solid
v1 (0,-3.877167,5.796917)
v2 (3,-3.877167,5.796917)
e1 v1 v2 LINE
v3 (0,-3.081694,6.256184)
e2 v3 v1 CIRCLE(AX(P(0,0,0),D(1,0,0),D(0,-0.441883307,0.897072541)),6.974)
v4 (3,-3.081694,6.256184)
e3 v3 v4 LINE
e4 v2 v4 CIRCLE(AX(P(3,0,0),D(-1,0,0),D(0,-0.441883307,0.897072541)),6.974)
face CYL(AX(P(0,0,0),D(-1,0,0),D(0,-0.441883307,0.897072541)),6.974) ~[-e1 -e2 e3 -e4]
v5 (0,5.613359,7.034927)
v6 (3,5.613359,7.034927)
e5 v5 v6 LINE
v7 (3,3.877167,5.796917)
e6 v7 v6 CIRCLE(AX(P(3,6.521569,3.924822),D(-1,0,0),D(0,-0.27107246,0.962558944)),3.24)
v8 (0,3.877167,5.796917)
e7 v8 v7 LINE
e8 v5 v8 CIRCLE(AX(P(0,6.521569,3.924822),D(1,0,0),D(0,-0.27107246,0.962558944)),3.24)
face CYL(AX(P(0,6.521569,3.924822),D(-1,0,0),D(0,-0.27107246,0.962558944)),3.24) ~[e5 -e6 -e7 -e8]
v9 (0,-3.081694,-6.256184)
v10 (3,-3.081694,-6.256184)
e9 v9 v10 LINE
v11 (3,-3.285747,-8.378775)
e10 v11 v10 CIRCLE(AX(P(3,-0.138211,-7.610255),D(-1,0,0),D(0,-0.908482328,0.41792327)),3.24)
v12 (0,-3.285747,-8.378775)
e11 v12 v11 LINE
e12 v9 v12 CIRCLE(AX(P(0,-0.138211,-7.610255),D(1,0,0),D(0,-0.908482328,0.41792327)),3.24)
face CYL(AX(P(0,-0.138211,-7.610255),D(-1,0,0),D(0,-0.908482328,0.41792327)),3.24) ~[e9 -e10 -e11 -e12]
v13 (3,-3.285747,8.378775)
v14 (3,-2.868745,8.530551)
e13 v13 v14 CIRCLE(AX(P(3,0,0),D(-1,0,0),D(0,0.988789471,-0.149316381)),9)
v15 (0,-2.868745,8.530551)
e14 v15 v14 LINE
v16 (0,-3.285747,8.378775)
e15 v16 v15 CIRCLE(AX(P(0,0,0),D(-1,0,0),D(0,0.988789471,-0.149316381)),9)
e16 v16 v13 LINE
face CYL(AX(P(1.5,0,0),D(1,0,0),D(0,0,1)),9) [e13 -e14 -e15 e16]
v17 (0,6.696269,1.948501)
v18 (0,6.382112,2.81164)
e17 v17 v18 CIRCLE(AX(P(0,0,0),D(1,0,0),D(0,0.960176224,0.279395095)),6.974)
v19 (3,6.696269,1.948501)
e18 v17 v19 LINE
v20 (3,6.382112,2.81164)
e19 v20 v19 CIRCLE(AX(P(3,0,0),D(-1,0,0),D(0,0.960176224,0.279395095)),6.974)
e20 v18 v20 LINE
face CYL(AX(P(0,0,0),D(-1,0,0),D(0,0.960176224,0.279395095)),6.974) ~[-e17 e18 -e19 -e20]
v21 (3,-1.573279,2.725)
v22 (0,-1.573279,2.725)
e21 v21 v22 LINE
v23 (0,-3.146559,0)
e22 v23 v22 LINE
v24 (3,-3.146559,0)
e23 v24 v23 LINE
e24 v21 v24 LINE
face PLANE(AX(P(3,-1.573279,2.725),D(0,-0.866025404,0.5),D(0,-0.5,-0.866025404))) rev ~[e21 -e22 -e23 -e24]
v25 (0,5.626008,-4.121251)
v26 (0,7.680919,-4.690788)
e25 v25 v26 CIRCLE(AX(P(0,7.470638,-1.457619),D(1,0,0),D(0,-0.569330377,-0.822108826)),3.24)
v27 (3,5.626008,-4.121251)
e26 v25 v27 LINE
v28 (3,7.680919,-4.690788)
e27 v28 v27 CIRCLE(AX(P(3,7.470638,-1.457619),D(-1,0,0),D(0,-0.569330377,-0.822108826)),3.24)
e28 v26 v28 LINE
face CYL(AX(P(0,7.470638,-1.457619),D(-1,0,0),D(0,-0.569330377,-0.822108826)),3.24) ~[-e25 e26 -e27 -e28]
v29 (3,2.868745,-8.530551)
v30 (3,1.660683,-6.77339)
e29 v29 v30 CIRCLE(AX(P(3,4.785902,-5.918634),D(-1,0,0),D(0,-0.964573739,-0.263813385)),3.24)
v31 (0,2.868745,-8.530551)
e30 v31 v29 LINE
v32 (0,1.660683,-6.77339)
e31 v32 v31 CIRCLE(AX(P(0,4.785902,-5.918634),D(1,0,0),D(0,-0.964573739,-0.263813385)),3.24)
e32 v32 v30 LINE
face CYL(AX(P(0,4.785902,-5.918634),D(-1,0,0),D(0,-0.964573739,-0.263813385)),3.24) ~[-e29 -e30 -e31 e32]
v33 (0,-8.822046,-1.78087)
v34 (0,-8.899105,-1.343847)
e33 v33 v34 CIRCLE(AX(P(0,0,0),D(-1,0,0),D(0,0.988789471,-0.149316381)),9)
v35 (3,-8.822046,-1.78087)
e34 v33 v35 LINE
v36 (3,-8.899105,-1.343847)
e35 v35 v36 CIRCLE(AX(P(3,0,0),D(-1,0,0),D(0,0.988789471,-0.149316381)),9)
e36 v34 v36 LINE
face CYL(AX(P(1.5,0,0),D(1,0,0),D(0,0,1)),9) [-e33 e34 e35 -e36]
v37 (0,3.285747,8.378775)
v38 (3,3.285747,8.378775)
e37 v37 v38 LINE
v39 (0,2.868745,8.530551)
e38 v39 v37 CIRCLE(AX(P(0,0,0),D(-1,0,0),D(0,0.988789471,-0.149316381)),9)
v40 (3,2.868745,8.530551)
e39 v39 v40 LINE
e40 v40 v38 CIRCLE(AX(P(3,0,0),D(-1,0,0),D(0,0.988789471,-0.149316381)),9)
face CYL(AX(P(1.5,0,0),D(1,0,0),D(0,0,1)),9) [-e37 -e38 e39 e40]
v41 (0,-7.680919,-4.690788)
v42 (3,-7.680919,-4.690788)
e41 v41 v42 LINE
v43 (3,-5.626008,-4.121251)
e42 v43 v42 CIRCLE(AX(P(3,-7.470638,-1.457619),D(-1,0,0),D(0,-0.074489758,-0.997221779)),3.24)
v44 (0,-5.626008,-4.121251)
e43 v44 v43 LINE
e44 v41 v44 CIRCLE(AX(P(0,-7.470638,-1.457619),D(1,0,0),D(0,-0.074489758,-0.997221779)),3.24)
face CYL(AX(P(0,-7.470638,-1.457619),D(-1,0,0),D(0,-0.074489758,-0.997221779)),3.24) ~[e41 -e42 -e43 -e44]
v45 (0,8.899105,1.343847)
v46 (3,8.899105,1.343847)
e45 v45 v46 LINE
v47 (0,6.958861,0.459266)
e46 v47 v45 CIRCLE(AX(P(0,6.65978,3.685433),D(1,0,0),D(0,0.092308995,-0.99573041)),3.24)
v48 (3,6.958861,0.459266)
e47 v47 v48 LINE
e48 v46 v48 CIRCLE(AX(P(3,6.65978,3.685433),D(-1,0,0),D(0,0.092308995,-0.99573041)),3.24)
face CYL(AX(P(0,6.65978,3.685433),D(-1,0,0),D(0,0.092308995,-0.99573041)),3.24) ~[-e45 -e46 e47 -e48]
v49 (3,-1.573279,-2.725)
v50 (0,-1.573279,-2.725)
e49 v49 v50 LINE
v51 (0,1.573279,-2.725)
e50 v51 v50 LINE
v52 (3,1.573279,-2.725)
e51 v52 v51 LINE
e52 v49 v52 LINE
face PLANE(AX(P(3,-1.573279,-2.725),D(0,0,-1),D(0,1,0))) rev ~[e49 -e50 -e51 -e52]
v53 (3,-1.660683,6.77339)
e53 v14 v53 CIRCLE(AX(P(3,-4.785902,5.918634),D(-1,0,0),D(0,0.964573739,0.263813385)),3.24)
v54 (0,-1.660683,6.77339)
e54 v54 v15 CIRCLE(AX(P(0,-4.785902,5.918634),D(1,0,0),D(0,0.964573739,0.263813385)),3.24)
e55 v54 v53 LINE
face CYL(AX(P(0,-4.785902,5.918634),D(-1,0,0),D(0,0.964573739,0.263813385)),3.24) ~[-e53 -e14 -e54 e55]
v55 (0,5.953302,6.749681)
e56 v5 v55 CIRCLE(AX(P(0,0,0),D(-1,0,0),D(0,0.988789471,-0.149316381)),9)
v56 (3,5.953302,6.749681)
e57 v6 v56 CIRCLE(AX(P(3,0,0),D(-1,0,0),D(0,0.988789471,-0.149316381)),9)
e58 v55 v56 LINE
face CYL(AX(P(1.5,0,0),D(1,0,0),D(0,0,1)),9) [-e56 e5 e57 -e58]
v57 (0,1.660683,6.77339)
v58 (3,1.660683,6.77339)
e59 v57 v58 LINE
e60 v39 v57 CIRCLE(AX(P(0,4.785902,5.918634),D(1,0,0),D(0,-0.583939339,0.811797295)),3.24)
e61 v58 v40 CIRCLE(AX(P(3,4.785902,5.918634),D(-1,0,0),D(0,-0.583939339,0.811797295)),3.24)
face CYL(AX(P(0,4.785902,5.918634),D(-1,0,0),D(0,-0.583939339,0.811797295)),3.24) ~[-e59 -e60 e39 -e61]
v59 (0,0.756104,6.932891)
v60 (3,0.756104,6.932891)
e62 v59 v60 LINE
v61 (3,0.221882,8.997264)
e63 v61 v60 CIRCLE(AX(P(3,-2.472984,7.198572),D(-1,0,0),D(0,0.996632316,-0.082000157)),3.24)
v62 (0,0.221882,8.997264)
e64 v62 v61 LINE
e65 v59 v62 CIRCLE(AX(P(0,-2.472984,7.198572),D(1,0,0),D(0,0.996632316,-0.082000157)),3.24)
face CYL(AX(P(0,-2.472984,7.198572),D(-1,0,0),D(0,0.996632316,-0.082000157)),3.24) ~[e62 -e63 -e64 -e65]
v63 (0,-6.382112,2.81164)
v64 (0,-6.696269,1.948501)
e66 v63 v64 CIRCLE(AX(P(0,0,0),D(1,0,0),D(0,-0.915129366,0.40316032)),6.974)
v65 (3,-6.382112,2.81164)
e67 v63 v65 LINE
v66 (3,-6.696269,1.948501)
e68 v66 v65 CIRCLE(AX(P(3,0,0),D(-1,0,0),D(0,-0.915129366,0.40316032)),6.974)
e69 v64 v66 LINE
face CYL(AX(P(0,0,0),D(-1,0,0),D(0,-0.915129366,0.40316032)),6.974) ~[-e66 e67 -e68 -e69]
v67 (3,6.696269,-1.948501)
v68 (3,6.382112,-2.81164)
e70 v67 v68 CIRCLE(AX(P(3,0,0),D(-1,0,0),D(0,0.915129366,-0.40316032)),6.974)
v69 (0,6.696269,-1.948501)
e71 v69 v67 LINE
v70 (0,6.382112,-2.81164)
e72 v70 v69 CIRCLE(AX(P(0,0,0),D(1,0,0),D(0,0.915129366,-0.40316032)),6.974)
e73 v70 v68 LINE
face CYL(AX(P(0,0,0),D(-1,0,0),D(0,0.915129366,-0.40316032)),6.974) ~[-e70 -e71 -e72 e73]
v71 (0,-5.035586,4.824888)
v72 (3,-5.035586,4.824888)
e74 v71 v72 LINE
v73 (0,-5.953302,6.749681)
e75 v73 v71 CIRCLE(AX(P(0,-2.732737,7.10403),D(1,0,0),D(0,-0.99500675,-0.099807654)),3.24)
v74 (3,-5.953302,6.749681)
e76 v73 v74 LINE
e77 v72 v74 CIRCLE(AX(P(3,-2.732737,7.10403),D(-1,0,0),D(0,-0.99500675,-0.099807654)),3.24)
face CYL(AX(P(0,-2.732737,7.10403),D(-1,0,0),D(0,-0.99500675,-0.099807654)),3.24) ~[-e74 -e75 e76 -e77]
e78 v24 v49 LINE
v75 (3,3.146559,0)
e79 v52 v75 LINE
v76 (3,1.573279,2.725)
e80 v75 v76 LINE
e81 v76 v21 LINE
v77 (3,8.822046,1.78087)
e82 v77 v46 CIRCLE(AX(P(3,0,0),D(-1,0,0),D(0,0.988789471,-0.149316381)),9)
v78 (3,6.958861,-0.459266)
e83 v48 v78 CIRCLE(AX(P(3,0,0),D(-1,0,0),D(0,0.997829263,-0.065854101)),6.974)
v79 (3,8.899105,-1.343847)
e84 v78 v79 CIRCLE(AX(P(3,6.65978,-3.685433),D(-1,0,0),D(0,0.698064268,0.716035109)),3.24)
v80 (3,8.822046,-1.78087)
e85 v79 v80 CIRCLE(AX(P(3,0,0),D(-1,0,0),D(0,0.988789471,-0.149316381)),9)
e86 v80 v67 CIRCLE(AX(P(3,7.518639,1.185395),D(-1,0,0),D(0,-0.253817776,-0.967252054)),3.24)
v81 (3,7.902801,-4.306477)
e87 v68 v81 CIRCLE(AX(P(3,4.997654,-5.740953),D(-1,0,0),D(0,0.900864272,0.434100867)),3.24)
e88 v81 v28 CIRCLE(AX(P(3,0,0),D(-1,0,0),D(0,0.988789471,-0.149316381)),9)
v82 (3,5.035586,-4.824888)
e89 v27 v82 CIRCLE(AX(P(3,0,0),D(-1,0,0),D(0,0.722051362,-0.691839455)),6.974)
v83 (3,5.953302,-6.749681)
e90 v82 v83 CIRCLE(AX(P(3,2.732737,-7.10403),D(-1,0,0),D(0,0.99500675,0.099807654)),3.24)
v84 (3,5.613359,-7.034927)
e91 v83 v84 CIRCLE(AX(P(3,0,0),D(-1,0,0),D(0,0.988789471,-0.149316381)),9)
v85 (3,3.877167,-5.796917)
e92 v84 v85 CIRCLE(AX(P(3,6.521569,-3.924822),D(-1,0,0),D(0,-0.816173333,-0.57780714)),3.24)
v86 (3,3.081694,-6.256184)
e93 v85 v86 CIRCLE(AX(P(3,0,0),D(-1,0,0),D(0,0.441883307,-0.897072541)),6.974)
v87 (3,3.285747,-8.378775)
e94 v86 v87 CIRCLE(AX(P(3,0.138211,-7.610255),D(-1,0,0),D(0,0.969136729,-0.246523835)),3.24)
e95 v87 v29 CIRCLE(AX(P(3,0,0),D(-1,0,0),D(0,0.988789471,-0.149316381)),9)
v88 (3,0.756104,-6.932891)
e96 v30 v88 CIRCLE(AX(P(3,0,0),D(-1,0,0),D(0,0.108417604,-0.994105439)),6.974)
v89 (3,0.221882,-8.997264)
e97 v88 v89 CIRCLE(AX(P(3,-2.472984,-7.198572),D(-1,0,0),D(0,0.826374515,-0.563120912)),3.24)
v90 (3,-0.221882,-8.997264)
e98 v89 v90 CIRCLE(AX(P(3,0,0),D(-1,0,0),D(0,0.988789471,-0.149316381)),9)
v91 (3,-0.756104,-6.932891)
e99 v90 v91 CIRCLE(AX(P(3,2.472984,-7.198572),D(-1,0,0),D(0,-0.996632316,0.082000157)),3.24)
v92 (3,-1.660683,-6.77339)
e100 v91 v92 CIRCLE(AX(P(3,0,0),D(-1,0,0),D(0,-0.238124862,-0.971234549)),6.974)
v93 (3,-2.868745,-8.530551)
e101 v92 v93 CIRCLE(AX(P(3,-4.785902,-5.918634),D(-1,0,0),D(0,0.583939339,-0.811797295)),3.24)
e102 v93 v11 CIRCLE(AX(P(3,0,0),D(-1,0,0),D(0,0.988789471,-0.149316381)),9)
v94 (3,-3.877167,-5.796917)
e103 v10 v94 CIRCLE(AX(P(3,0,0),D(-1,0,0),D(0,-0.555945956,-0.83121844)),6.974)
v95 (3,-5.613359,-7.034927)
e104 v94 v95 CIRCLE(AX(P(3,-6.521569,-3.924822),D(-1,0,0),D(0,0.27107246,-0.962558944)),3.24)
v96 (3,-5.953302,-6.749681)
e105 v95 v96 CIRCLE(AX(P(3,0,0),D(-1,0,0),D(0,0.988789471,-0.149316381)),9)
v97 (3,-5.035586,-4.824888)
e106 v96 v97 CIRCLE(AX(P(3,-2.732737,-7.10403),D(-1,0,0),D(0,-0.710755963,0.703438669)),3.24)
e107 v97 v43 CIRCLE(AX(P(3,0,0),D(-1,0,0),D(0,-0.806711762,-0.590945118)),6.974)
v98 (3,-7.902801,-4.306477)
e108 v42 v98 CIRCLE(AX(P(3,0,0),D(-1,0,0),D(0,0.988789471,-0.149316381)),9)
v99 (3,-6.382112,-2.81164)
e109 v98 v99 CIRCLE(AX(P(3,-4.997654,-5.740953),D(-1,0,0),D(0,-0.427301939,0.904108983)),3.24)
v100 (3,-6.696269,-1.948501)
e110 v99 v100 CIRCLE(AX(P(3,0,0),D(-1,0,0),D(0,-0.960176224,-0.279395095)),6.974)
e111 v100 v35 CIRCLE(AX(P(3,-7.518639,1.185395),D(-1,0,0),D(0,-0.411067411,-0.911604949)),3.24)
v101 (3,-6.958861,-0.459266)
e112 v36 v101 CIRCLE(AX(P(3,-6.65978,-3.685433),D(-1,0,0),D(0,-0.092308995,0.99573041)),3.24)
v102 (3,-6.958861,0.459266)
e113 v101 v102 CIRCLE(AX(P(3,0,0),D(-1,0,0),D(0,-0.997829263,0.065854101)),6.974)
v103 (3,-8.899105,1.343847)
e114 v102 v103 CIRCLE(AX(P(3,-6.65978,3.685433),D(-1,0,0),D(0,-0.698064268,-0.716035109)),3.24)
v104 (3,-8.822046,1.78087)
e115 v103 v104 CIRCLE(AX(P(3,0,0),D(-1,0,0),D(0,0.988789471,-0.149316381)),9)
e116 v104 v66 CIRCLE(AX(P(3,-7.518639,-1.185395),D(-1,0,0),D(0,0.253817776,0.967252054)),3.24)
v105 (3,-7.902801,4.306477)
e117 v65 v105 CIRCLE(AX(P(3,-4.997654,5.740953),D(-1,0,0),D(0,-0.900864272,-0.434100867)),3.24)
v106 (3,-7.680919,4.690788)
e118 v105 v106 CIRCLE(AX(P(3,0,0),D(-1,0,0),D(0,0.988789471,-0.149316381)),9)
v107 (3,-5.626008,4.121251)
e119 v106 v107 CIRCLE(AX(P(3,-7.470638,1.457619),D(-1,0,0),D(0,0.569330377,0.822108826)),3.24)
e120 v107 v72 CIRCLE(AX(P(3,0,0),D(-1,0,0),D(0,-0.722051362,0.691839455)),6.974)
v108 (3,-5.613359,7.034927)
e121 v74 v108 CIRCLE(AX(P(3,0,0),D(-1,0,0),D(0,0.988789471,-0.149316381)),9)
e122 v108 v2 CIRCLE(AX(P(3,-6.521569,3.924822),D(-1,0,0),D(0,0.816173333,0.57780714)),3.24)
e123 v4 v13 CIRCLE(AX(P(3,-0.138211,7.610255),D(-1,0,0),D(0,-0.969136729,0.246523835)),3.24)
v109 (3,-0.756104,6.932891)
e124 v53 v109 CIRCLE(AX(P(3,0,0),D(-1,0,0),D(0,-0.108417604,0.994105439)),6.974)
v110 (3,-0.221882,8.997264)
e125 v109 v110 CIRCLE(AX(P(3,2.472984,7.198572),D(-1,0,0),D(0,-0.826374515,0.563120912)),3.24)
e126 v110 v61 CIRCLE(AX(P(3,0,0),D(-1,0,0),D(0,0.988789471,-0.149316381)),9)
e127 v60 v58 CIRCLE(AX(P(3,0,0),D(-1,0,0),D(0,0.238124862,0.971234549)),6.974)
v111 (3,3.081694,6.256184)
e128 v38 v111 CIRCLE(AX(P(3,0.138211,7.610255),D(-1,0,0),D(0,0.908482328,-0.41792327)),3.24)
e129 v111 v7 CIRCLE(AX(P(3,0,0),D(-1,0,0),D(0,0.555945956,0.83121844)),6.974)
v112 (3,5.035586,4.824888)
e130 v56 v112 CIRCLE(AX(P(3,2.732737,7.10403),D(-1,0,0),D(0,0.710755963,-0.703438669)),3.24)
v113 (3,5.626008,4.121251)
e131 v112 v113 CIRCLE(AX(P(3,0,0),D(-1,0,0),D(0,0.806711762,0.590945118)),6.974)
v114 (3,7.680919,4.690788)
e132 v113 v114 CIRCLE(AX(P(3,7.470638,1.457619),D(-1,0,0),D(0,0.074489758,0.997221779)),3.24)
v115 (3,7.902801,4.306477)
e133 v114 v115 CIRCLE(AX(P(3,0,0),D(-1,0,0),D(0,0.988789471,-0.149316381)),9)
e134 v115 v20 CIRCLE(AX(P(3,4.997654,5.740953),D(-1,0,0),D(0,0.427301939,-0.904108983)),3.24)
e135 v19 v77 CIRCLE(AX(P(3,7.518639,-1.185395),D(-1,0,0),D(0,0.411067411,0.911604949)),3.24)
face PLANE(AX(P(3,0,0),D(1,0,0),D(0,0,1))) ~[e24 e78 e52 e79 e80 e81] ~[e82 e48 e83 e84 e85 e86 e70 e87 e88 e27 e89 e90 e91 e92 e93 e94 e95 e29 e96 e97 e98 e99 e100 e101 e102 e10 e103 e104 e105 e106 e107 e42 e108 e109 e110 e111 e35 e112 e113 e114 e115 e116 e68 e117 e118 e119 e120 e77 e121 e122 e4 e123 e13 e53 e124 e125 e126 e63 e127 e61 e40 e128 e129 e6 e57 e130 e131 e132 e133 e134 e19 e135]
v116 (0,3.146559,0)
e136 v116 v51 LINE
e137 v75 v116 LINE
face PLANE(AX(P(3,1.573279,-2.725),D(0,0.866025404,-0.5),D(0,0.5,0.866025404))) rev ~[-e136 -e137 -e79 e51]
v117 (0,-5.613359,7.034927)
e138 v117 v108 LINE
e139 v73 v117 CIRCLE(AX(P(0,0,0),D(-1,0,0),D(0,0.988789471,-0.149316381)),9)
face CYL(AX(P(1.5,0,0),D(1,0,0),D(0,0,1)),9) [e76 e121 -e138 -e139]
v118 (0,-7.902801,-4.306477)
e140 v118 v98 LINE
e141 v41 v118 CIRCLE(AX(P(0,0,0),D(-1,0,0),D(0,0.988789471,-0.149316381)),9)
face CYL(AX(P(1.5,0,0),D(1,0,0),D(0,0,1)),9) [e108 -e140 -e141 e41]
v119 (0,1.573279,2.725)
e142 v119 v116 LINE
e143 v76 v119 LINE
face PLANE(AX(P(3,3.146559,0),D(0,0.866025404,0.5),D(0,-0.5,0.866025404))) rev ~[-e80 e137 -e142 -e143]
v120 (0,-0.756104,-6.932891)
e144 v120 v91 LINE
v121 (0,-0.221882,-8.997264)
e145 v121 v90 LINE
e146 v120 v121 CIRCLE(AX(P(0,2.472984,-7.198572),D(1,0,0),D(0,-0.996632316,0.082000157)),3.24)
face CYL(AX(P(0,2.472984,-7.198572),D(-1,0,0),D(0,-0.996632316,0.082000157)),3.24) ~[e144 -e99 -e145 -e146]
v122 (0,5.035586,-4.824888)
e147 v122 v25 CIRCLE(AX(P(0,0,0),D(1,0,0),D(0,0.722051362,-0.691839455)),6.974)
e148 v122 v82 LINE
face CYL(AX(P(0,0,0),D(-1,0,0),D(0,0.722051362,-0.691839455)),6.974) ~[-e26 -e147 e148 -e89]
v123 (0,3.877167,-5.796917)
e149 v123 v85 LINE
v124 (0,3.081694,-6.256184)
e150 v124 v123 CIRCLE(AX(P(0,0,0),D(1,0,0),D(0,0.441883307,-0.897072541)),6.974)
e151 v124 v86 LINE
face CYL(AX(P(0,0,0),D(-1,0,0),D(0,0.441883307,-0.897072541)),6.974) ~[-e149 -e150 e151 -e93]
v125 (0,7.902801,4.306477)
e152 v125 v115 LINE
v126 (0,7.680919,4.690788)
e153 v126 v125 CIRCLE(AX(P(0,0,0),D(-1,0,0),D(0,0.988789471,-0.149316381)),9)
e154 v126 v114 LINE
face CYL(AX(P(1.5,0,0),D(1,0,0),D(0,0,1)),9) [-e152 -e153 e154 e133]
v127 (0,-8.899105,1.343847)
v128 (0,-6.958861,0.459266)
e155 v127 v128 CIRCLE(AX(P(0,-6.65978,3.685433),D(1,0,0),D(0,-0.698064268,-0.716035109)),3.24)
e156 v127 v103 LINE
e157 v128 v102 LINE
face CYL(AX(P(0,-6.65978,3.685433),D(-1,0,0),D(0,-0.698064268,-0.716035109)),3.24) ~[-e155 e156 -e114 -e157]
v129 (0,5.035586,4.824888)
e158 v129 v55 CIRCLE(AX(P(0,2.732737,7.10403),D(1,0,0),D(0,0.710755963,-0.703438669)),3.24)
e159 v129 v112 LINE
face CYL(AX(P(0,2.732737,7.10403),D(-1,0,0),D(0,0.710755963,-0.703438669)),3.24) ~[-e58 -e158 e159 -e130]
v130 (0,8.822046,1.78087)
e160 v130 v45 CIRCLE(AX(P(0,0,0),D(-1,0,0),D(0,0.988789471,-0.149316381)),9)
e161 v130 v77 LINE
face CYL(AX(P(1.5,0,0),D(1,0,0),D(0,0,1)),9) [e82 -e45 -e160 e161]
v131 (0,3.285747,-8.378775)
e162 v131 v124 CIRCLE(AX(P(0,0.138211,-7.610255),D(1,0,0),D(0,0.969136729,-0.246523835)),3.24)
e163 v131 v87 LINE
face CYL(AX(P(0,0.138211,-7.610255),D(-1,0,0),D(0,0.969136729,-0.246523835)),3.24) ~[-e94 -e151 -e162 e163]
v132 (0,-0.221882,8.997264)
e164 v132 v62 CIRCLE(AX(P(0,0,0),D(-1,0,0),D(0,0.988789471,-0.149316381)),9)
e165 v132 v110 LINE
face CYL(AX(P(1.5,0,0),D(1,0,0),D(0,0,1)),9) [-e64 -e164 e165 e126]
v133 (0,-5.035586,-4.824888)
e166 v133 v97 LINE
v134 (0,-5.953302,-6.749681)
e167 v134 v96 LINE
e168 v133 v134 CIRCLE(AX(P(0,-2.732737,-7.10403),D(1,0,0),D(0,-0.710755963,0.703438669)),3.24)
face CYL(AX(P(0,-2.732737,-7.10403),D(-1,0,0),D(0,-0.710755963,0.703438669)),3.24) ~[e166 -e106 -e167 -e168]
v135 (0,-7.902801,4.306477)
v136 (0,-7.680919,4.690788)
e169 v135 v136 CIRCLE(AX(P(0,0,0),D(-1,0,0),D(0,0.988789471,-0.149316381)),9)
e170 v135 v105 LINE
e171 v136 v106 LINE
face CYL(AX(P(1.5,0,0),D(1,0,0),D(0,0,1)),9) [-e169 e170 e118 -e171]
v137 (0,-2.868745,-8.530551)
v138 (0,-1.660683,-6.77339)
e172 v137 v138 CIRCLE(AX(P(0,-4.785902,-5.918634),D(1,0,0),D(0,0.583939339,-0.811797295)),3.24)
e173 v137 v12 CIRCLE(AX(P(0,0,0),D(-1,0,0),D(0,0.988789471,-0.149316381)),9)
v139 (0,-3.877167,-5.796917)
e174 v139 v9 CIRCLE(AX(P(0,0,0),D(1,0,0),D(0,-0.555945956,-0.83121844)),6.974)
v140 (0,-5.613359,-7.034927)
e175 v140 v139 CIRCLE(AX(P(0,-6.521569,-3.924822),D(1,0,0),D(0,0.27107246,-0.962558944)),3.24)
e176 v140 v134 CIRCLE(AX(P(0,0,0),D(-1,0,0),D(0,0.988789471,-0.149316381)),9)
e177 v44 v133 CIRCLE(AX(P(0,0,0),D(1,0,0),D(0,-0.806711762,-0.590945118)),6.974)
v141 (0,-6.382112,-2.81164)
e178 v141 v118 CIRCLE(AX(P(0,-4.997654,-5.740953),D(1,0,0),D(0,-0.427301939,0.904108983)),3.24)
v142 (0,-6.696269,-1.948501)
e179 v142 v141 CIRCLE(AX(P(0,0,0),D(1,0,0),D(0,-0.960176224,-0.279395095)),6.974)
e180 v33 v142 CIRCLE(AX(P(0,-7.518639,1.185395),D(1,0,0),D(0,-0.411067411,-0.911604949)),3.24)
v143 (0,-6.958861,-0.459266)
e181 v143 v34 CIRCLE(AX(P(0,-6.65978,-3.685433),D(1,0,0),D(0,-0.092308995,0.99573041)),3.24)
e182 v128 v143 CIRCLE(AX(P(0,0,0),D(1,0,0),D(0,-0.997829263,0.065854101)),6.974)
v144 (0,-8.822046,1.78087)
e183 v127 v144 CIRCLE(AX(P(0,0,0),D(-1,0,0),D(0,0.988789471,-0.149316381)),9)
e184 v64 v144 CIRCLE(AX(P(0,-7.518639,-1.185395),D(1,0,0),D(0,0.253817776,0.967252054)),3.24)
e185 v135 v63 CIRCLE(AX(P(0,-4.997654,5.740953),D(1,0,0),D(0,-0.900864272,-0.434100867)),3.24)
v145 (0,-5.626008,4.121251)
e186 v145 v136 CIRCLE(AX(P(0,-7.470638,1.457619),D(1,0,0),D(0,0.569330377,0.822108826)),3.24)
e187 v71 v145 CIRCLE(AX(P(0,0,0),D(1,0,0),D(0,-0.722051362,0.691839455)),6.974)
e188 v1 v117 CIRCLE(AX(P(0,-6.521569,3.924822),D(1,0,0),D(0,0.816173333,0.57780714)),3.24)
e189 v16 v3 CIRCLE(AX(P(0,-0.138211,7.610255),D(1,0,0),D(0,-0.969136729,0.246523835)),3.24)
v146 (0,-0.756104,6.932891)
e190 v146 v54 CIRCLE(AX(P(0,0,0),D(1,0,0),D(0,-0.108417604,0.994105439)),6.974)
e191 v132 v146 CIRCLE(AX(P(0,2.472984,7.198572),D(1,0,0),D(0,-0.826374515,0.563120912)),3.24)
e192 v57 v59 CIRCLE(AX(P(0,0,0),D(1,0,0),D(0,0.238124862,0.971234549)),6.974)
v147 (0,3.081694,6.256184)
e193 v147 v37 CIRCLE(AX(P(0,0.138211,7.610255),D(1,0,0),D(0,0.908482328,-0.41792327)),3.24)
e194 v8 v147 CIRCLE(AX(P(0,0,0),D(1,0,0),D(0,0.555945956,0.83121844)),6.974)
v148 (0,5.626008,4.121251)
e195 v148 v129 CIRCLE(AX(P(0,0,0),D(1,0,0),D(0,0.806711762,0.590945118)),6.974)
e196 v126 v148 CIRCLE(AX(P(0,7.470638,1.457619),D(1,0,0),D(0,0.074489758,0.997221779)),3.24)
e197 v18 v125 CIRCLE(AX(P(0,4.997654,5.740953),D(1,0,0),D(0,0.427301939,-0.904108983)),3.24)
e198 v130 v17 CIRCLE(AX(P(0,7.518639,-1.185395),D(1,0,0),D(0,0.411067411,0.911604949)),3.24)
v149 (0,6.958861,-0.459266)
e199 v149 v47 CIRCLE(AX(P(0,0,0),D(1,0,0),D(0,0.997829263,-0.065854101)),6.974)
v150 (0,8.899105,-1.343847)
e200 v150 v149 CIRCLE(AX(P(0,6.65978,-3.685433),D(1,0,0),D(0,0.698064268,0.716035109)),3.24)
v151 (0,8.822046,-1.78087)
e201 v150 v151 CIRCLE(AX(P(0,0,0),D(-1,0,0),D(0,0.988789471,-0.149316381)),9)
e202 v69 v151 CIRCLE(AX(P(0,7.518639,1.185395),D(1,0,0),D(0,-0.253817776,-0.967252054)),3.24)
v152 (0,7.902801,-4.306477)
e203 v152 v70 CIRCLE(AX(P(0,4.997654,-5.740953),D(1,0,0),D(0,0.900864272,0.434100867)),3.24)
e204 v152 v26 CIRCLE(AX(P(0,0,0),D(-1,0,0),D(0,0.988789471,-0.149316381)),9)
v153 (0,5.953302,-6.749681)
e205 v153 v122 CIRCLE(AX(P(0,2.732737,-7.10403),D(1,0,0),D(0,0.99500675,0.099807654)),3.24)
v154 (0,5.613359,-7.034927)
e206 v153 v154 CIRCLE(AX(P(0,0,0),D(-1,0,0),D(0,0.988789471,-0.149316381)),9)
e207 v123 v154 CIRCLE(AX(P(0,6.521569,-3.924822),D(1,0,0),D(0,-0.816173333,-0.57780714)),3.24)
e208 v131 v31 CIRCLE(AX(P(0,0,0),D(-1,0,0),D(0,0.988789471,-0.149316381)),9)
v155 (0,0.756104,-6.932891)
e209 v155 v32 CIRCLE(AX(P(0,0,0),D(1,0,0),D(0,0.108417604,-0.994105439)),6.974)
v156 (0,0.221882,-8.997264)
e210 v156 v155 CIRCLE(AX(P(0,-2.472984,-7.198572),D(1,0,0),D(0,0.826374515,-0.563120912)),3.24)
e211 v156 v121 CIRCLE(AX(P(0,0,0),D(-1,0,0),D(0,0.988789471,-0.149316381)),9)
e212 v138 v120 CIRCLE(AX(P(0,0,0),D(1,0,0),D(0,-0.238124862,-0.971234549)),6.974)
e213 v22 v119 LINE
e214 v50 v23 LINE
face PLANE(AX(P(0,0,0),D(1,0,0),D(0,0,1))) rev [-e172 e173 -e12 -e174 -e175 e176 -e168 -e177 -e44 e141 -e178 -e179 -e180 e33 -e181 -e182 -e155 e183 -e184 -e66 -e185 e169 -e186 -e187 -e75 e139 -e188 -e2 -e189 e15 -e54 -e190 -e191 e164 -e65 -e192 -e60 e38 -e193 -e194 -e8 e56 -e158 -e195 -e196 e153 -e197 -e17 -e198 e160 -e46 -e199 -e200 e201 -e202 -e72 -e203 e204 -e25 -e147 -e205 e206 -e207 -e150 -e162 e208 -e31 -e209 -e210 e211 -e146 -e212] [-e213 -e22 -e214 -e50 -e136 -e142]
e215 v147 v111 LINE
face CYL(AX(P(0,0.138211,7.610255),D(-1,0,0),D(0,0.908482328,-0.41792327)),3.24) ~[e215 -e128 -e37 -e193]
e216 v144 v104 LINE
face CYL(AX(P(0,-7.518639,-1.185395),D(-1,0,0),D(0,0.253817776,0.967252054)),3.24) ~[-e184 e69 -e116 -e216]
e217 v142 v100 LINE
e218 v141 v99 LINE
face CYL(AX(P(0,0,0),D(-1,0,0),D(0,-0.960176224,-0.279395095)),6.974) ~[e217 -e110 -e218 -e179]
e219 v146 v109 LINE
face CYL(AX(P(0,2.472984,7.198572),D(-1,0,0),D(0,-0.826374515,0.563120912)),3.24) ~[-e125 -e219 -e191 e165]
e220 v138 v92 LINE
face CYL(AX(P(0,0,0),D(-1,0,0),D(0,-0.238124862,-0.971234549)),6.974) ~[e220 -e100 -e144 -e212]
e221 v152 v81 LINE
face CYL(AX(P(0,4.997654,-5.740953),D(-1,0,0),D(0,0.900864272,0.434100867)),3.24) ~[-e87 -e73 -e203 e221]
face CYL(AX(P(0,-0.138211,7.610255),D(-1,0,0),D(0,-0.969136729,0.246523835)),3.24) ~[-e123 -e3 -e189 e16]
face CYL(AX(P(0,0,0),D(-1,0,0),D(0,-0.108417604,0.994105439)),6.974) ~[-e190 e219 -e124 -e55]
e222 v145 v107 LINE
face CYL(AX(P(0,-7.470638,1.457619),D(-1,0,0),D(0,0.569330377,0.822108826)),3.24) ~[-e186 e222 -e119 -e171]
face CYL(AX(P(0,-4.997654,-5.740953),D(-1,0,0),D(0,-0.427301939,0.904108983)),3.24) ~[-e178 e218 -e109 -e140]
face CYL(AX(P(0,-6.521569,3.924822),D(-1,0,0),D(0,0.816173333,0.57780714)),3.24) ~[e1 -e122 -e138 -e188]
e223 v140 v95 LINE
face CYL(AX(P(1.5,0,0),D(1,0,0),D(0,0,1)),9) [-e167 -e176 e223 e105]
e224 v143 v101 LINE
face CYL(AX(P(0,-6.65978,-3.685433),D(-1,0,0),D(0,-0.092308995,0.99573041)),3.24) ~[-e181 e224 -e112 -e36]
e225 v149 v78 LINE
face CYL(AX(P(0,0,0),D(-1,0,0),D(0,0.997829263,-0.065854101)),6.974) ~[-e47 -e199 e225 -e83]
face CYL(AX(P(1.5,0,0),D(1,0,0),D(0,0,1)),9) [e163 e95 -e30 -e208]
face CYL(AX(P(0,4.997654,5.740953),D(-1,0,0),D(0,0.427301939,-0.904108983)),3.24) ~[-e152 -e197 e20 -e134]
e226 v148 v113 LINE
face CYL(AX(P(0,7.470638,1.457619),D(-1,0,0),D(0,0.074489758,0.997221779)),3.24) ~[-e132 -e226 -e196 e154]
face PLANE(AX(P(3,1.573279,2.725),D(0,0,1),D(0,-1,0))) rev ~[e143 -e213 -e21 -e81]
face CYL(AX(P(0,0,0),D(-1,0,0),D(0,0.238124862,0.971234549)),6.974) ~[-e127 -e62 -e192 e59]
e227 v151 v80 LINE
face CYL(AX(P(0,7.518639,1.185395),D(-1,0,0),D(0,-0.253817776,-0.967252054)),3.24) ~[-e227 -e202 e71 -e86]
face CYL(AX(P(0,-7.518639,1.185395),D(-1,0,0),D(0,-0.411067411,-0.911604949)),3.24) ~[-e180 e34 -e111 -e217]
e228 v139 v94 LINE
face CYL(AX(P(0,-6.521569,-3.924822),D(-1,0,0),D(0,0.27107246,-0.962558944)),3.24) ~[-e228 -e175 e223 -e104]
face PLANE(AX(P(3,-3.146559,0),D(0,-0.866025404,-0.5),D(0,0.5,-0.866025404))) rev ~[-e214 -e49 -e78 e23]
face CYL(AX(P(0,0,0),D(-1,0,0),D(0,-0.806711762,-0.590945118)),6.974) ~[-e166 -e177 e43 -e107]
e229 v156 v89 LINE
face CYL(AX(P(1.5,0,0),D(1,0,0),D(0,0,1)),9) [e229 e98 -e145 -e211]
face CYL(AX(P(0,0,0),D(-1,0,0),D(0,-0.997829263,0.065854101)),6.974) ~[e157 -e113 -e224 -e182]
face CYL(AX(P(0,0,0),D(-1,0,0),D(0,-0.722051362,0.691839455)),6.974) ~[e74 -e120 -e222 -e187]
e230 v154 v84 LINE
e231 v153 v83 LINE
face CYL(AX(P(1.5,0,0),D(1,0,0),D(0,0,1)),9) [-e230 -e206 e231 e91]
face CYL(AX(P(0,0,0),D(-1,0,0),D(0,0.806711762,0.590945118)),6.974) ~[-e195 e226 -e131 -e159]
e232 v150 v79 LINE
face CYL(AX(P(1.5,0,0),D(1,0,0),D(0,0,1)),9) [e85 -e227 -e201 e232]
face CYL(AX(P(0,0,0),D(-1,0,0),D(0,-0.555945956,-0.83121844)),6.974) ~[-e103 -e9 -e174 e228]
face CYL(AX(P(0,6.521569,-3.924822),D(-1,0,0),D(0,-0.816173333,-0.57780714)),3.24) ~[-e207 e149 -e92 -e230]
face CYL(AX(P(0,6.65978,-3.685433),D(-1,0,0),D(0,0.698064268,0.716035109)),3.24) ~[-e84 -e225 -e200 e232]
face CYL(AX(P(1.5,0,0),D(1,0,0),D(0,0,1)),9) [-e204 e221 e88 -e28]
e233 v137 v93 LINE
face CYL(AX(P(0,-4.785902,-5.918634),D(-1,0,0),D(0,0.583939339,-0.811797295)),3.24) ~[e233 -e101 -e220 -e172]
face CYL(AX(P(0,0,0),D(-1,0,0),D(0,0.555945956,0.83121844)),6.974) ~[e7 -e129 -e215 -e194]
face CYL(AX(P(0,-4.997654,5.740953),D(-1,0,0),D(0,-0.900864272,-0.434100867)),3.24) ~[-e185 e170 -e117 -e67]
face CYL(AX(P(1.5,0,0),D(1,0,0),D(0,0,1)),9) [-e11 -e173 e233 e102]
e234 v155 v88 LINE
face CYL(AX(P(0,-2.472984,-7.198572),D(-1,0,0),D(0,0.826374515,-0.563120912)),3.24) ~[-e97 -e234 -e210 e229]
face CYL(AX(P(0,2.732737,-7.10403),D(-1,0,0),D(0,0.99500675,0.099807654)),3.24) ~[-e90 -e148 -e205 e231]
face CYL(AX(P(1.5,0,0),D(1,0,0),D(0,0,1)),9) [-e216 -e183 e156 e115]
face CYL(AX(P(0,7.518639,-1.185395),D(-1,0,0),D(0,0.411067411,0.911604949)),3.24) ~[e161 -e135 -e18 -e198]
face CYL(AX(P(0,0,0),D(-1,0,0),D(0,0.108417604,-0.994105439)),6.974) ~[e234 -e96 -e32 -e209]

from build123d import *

# Parameters (mm, degrees)
BASPROSKE_W        = 3
BASPROSKE_H        = 9
TOOTHCUT_DEPTH     = 14.076696831
TEETHCUTS_COUNT    = 18
TEETHCUTS_ANGLE    = 340
CUT_EXTRUDE1_DEPTH = 14.007462246


with BuildPart() as part:
    # BasProSke → Base-Revolve (revolve)
    with BuildSketch(Plane(origin=(0, 0, 0), x_dir=(1, 0, 0), z_dir=(0, 1, 0)), mode=Mode.PRIVATE) as base_revolve_sk:
        with Locations((1.5, 4.5)):
            Rectangle(BASPROSKE_W, BASPROSKE_H)
    revolve(base_revolve_sk.sketch.rotate(Axis((-10, 0, 0), (1, 0, 0)), 180), axis=Axis((-10, 0, 0), (1, 0, 0)))

    # TooCutSke → ToothCut (cut, through all)
    with BuildSketch(Plane(origin=(0, 0, 0), x_dir=(0, 0, -1), z_dir=(1, 0, 0))):
        with BuildLine():
            ThreePointArc((0.45926649, 6.958861278), (0, 6.974), (-0.45926649, 6.958861278))
            ThreePointArc((-0.45926649, 6.958861278), (-0.743858876, 8.01799277), (-1.365479267, 8.921508366))
            ThreePointArc((-1.365479267, 8.921508366), (0, 9.0254), (1.365479267, 8.921508366))
            ThreePointArc((1.365479267, 8.921508366), (0.743858876, 8.01799277), (0.45926649, 6.958861278))
        make_face()
    toothcut = extrude(amount=TOOTHCUT_DEPTH, mode=Mode.SUBTRACT)

    # TeethCuts: ToothCut ×18 about axis
    teethcuts_axis = Axis((-10, 0, 0), (1, 0, 0))
    for i in range(1, TEETHCUTS_COUNT):
        add(toothcut.rotate(teethcuts_axis, i * TEETHCUTS_ANGLE / (TEETHCUTS_COUNT - 1)), mode=Mode.SUBTRACT)

    # Sketch1 → Cut-Extrude1 (cut, through all)
    with BuildSketch(Plane(origin=(3, 0, 0), x_dir=(0, 0, -1), z_dir=(1, 0, 0))):
        Polygon((0, 3.146558967), (-2.725, 1.573279484), (-2.725, -1.573279484), (0, -3.146558967), (2.725, -1.573279484), (2.725, 1.573279484), align=None)
    extrude(amount=-CUT_EXTRUDE1_DEPTH, mode=Mode.SUBTRACT)


solid = part.part
